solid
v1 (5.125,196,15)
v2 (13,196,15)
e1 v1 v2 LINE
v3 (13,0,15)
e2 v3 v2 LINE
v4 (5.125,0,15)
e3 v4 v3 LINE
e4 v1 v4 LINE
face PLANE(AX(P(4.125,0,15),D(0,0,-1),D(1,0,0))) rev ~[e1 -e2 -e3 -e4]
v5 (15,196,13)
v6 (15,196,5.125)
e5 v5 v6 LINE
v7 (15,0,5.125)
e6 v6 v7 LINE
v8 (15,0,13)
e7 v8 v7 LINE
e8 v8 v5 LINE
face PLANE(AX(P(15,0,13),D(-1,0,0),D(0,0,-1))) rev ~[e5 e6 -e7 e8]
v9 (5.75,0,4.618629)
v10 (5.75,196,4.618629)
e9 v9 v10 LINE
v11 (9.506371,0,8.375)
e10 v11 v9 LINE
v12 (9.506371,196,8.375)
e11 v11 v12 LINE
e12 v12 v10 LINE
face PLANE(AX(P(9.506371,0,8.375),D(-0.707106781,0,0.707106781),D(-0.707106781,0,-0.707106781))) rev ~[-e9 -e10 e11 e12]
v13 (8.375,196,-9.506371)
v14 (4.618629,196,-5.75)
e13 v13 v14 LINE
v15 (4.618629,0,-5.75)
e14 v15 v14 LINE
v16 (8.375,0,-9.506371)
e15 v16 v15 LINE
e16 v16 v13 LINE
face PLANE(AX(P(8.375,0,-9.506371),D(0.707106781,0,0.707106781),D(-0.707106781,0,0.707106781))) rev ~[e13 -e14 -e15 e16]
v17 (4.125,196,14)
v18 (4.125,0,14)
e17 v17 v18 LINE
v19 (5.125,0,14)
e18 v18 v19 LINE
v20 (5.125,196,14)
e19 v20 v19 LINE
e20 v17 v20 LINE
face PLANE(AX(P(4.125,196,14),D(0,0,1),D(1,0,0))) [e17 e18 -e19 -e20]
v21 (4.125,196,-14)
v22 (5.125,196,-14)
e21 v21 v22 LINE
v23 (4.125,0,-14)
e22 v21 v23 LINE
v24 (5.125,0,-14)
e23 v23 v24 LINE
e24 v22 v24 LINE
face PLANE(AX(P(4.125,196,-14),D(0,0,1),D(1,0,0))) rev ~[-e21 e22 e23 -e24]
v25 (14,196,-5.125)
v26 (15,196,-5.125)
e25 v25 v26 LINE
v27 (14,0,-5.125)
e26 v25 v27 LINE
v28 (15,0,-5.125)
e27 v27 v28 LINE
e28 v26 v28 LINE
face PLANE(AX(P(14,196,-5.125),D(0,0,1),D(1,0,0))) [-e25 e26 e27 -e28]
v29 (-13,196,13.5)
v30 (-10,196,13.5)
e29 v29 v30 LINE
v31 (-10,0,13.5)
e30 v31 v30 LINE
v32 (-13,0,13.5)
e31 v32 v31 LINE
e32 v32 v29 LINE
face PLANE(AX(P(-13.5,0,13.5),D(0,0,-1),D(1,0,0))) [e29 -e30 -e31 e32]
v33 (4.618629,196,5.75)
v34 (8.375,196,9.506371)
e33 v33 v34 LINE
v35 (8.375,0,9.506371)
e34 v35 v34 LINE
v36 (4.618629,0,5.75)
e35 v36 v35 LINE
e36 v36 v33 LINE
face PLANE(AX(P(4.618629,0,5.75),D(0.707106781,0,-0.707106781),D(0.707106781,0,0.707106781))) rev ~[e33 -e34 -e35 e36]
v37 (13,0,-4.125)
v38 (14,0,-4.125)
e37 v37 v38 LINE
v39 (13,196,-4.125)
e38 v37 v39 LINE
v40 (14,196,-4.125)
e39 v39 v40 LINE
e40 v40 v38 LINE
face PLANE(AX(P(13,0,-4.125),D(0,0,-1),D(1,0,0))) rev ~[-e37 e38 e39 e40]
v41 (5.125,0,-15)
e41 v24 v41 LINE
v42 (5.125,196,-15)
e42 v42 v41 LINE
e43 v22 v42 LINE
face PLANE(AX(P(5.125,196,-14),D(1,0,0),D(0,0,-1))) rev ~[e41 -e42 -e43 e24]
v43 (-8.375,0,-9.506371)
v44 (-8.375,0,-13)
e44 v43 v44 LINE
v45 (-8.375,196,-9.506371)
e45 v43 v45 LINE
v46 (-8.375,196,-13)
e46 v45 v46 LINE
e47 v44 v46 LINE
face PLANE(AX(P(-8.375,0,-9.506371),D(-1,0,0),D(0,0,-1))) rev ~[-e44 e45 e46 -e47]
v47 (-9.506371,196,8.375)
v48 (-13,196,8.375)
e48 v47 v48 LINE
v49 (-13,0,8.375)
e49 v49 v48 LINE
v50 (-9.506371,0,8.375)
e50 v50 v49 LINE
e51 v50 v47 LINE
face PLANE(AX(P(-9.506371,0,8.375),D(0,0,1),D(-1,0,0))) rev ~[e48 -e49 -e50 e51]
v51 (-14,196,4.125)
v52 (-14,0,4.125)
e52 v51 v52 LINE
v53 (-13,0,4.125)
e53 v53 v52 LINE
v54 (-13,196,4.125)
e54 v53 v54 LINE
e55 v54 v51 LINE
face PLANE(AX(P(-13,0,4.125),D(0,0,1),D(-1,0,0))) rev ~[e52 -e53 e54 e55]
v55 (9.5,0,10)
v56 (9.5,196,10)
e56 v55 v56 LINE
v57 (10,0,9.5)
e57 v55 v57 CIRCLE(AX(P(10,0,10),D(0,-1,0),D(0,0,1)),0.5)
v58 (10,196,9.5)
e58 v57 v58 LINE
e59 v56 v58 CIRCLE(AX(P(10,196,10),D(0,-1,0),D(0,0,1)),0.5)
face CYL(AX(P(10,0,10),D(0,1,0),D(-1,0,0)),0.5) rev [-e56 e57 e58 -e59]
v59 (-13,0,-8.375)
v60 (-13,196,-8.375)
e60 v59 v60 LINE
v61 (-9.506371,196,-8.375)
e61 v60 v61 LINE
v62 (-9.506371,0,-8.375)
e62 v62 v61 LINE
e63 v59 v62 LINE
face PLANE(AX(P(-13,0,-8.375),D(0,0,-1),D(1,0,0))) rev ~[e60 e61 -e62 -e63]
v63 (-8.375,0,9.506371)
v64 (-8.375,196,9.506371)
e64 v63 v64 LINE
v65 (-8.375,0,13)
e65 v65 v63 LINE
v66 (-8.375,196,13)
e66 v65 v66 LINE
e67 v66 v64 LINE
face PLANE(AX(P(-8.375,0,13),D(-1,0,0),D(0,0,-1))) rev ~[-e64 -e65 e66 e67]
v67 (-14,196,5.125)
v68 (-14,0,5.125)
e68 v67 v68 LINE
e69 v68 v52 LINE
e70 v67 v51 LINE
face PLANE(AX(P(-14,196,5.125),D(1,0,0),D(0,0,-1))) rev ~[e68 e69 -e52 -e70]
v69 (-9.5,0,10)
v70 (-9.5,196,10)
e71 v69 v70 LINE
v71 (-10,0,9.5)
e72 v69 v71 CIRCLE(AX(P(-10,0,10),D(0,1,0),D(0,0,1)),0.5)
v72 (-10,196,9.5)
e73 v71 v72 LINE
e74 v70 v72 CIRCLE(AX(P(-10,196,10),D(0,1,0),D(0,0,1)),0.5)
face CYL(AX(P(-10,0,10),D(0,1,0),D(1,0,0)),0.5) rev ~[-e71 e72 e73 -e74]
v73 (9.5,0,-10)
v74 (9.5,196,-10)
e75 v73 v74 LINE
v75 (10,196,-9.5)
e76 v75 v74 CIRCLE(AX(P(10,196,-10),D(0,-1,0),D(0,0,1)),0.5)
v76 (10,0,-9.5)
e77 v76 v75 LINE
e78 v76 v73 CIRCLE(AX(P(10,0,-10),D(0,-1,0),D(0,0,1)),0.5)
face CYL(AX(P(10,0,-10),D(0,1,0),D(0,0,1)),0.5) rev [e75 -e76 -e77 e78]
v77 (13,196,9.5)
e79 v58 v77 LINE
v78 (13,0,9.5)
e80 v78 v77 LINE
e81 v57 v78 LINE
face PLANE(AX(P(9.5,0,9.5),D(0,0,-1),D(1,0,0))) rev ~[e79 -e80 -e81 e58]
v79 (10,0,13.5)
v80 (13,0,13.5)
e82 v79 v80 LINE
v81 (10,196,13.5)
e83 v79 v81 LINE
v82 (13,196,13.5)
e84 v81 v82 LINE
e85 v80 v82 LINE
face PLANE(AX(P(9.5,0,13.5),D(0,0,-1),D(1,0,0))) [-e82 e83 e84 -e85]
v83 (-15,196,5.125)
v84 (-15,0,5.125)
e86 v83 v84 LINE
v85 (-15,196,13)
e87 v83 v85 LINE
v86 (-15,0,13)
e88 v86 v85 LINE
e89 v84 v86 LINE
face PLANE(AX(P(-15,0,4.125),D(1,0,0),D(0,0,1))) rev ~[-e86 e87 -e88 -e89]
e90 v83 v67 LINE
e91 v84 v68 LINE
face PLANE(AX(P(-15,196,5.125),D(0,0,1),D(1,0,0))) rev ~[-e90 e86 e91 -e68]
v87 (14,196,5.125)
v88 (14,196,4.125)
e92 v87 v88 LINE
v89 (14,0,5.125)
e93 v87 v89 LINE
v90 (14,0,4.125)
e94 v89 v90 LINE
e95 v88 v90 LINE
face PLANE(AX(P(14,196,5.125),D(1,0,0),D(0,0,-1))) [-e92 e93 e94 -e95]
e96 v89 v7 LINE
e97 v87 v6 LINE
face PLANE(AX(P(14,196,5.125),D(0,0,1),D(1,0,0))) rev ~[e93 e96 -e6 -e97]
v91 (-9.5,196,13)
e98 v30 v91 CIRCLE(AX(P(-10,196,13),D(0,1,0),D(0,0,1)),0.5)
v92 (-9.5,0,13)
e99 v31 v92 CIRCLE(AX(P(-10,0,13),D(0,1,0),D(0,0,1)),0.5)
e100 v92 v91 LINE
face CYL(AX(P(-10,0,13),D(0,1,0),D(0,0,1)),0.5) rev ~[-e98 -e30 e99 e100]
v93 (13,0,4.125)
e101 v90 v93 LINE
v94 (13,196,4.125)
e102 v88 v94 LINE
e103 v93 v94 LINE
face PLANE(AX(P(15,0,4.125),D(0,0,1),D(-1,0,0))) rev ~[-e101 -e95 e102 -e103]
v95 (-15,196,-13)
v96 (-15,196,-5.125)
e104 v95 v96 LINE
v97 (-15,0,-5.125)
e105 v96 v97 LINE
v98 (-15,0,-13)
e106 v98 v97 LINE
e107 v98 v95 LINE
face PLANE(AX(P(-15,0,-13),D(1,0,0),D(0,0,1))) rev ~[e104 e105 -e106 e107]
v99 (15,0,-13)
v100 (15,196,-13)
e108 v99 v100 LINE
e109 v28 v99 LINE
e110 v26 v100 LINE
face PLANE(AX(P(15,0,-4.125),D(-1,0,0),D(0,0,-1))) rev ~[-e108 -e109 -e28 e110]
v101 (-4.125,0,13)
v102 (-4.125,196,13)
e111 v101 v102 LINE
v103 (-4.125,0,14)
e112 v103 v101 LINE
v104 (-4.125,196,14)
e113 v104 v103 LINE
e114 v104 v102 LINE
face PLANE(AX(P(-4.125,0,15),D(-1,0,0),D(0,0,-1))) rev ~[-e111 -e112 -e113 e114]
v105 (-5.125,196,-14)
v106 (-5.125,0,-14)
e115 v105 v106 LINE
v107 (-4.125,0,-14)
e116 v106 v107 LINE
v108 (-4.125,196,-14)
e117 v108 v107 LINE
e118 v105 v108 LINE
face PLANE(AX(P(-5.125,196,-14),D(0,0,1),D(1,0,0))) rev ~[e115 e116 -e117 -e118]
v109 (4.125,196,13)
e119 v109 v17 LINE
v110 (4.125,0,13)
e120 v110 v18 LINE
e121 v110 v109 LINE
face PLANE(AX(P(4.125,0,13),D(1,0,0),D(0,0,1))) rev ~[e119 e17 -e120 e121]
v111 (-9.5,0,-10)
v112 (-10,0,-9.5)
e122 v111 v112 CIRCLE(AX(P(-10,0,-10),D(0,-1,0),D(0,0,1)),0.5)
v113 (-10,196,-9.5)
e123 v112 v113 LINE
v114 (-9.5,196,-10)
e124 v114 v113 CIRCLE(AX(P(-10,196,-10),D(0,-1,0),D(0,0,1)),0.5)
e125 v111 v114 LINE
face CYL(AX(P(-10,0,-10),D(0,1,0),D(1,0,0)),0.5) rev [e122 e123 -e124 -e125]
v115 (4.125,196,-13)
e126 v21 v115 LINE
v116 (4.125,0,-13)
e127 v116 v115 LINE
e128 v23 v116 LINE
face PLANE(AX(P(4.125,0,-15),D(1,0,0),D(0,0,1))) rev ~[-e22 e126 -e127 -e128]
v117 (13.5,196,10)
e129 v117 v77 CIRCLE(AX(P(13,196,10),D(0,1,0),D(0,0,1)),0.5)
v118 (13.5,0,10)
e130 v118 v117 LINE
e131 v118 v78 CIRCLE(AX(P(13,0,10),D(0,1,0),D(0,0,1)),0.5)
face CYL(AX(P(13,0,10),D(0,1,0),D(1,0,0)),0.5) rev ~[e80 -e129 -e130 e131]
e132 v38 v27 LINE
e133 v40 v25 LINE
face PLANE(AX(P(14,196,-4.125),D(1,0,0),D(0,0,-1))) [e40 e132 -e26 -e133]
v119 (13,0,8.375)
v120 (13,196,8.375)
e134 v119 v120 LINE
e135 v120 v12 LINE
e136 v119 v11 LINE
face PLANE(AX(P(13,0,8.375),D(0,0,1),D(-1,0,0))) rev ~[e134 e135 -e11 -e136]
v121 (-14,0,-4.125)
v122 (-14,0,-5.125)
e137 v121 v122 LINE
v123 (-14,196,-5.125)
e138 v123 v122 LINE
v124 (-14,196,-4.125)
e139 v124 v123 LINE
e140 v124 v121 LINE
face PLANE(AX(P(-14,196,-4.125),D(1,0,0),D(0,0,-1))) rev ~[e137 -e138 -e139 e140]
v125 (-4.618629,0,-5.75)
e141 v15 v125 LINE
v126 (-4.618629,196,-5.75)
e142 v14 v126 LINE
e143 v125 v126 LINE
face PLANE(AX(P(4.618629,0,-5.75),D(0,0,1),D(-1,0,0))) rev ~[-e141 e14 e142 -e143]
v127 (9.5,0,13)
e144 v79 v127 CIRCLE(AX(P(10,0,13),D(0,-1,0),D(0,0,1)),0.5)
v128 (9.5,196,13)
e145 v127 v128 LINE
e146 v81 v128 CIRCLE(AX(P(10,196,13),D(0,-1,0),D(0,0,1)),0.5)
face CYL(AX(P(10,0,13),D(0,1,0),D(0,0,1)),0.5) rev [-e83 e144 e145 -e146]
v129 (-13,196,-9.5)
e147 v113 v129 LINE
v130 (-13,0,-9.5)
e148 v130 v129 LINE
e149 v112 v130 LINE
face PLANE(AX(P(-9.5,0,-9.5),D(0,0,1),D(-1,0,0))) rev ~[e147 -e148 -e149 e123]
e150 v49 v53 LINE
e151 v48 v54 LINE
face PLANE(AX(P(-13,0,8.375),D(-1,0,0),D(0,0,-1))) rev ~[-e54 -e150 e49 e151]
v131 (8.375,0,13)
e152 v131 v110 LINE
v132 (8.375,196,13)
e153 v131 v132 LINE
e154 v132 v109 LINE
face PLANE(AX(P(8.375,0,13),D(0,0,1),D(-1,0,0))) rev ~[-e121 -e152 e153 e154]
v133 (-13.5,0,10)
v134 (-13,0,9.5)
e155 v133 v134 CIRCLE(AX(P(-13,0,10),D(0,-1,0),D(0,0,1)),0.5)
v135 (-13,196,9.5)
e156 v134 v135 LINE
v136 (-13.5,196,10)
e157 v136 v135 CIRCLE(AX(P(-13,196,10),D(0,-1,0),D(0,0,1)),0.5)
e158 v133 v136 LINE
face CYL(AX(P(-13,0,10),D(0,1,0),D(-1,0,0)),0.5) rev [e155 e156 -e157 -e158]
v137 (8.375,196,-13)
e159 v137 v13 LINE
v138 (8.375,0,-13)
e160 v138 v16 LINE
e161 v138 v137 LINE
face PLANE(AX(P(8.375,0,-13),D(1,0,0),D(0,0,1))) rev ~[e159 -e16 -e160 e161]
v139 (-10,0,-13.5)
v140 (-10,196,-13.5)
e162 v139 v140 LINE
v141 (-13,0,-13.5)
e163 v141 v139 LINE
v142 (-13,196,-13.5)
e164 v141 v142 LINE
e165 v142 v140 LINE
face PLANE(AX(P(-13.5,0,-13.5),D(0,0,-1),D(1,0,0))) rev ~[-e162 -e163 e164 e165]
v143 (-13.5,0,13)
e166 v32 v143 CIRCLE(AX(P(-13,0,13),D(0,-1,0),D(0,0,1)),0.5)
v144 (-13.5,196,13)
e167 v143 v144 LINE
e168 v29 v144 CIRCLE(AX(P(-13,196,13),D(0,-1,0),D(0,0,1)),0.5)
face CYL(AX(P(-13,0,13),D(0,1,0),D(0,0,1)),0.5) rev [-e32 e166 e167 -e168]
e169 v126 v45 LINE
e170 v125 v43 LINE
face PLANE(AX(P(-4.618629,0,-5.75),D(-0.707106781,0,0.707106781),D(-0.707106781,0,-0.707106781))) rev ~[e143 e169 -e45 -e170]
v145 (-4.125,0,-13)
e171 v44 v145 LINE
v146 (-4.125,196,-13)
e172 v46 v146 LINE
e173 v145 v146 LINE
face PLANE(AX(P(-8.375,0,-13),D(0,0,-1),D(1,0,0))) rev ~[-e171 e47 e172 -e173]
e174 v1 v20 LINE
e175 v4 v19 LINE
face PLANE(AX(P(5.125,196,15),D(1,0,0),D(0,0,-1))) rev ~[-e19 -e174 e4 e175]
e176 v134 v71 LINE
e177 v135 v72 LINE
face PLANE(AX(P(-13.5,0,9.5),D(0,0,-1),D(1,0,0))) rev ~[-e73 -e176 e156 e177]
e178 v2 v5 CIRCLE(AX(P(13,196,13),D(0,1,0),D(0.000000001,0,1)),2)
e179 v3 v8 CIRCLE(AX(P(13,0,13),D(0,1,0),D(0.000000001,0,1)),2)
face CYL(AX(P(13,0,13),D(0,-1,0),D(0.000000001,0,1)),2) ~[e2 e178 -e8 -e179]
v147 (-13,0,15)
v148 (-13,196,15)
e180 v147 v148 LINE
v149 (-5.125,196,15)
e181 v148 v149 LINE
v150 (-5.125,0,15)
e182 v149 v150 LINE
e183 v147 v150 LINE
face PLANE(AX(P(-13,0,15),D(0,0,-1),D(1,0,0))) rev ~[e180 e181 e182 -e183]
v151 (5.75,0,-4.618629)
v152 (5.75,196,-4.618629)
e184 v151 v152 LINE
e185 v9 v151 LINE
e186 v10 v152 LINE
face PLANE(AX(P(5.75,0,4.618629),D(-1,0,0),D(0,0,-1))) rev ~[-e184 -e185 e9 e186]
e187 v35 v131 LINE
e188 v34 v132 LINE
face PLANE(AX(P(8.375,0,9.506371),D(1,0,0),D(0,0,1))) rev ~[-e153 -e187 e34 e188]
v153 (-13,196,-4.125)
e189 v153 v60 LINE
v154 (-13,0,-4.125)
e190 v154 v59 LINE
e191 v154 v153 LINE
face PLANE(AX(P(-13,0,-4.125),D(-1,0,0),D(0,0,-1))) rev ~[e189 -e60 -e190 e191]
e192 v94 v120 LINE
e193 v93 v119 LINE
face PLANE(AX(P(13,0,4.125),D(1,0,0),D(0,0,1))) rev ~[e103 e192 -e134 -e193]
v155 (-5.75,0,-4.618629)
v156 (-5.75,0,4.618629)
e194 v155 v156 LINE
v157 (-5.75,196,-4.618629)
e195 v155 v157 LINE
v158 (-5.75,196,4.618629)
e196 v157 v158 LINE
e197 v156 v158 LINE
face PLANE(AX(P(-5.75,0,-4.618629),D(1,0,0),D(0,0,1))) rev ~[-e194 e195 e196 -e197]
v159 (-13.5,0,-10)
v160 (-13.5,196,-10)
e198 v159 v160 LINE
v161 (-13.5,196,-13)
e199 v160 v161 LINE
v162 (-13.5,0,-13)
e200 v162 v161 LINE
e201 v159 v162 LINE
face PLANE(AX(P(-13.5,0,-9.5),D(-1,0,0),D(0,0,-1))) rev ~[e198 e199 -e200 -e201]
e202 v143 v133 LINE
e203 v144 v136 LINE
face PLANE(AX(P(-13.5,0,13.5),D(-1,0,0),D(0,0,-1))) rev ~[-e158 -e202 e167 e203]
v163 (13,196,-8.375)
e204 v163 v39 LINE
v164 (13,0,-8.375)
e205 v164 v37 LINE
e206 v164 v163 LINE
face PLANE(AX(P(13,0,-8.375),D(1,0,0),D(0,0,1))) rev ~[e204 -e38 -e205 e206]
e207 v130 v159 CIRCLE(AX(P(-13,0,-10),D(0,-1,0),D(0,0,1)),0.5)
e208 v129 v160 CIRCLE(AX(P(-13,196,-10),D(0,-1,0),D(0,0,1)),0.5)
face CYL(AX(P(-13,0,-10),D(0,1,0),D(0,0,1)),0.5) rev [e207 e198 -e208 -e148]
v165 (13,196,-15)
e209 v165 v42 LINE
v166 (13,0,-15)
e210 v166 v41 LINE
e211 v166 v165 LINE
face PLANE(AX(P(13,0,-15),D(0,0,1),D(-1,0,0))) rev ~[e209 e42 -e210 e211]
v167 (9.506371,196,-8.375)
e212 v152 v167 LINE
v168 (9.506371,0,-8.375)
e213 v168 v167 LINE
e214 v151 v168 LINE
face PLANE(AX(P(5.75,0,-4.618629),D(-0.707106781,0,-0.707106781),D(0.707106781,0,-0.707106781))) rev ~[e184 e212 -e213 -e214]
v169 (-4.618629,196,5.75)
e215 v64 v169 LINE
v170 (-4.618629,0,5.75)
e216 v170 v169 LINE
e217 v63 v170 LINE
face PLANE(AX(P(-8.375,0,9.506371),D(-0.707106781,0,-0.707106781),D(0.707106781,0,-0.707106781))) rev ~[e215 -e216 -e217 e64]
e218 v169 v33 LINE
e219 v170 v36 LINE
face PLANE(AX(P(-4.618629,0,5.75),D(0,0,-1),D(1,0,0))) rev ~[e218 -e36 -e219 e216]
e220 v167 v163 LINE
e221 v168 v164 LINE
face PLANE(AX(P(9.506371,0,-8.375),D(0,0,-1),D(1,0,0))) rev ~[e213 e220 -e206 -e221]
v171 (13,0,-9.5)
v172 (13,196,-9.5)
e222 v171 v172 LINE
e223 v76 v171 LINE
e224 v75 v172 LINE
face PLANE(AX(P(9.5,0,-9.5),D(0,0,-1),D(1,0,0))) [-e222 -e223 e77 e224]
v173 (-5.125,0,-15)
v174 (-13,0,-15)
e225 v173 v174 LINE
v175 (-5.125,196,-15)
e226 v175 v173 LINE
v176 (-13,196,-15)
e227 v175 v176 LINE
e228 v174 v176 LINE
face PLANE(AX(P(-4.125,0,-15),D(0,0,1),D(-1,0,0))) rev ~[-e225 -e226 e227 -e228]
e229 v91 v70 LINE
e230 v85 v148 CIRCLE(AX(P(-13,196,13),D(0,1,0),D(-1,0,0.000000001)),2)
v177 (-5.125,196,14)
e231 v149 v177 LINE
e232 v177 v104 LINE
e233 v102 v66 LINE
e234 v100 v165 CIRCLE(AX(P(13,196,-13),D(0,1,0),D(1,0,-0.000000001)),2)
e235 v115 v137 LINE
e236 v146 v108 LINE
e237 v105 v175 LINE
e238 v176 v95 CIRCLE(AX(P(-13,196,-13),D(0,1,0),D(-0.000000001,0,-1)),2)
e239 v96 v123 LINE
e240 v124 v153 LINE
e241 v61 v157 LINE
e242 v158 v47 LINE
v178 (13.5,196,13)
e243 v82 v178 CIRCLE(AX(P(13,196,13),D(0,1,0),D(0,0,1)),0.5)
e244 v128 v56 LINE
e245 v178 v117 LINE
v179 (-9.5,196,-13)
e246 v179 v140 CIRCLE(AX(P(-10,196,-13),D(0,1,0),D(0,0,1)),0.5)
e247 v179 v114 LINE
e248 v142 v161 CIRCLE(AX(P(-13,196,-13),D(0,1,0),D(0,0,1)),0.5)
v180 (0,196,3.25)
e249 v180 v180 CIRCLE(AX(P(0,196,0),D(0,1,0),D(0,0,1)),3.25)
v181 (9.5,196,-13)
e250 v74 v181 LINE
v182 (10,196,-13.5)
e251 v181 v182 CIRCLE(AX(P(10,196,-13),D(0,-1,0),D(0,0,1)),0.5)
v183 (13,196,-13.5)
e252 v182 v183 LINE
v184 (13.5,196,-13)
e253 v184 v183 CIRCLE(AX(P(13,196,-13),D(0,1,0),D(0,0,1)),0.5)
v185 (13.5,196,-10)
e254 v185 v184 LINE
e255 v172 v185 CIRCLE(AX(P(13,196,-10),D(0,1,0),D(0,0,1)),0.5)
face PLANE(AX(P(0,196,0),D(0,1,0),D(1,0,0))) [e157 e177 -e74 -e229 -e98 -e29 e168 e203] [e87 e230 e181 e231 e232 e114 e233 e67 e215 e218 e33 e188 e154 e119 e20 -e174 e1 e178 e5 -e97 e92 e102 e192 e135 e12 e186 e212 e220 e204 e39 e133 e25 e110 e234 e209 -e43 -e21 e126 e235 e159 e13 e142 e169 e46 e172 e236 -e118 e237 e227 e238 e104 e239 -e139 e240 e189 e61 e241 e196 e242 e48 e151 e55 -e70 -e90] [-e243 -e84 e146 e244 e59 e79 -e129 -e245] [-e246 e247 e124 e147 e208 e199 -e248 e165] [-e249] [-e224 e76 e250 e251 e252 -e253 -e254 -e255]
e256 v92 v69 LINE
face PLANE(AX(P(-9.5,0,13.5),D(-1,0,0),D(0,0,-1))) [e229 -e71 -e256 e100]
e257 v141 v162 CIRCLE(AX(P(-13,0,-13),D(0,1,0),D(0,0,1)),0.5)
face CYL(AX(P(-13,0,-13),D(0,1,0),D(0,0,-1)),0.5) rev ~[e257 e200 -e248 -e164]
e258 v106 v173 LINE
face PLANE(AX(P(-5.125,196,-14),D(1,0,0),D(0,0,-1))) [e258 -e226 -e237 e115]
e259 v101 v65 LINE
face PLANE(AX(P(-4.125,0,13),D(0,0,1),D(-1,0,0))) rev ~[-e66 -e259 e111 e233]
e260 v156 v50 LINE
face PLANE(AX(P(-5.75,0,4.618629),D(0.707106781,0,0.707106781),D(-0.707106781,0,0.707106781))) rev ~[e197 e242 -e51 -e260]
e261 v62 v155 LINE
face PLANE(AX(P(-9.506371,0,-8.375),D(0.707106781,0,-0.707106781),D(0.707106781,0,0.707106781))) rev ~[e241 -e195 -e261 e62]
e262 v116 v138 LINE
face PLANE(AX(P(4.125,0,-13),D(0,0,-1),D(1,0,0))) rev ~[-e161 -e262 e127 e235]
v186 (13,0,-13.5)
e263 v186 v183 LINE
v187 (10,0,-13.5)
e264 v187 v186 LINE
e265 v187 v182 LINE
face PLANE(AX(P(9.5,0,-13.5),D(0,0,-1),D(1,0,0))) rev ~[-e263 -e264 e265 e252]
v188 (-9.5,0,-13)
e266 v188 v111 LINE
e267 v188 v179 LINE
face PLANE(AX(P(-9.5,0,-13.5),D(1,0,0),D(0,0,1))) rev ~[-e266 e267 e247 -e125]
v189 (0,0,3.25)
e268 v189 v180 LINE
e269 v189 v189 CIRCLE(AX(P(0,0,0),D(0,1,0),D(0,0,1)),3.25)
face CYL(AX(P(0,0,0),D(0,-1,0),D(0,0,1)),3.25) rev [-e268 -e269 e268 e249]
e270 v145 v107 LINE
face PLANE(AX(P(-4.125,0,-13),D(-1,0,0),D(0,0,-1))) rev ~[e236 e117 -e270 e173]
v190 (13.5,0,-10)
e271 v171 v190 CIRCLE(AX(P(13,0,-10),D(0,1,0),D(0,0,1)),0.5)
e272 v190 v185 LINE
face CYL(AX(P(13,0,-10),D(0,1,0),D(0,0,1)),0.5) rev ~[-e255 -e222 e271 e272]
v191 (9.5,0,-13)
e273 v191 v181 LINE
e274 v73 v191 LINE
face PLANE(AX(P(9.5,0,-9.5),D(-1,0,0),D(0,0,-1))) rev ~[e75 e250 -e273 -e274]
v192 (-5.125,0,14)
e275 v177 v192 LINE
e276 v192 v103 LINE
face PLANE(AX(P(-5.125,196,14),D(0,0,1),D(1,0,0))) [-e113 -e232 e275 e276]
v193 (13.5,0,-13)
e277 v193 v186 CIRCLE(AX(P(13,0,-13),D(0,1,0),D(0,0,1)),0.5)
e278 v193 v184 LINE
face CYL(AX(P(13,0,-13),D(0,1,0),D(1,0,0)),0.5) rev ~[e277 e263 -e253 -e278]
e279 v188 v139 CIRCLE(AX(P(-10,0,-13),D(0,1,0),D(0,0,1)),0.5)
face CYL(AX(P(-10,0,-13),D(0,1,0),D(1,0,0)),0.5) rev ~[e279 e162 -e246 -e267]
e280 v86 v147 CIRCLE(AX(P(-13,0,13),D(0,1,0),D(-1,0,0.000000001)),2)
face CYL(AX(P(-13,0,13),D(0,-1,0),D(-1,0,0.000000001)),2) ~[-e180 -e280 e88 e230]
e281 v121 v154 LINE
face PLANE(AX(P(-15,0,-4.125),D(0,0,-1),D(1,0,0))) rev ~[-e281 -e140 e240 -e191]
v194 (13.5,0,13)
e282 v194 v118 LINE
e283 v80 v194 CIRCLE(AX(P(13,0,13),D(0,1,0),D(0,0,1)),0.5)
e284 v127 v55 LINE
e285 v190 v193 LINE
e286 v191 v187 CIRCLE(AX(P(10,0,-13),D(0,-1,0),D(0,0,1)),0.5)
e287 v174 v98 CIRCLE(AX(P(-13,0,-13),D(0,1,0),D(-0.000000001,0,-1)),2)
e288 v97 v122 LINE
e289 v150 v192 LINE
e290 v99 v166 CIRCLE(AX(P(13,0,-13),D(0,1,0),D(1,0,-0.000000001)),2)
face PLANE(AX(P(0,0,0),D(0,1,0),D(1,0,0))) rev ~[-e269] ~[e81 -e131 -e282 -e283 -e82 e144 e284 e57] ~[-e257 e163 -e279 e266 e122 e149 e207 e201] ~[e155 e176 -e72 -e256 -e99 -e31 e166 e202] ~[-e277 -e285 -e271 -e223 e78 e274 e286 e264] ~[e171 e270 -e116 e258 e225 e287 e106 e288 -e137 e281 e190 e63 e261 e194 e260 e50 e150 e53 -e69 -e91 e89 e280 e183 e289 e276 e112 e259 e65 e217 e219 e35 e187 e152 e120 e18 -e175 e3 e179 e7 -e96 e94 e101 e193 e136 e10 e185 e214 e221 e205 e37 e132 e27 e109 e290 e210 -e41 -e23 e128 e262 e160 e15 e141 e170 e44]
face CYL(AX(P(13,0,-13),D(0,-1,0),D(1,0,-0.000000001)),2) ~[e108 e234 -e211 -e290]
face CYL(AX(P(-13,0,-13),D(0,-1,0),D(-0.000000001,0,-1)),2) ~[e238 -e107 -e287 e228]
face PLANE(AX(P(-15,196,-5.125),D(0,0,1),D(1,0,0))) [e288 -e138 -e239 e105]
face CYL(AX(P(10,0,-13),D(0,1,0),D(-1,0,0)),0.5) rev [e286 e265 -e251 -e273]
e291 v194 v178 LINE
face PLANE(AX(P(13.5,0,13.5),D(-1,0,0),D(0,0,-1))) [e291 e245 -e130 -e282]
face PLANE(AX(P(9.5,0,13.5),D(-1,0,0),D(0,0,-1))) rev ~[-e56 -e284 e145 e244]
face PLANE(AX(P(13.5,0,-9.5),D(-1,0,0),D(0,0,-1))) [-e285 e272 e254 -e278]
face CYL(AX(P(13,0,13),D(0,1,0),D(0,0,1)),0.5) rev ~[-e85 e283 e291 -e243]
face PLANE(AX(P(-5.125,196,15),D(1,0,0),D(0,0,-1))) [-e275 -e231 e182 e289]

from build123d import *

# Parameters (mm, degrees)
SKETCH1_W           = 4
SKETCH1_H           = 4
SKETCH1_R           = 3.25
BOSS_EXTRUDE1_DEPTH = 196
SKETCH2_W           = 1
SKETCH2_H           = 1
CUT_EXTRUDE1_DEPTH  = 198.144616969
FILLET1_R           = 0.5


with BuildPart() as part:
    # Sketch1 → Boss-Extrude1 (new body)
    with BuildSketch(Plane(origin=(0, 0, 0), x_dir=(1, 0, 0), z_dir=(0, 1, 0))):
        with BuildLine():
            Line((-8.375, 9.50637085), (-8.375, 13))
            Line((-8.375, 13), (-4.125, 13))
            Line((-4.125, 13), (-4.125, 15))
            Line((-4.125, 15), (-13, 15))
            ThreePointArc((-13, 15), (-14.414213562, 14.414213562), (-15, 13))
            Line((-15, 13), (-15, 4.125))
            Line((-15, 4.125), (-13, 4.125))
            Line((-13, 4.125), (-13, 8.375))
            Line((-13, 8.375), (-9.50637085, 8.375))
            Line((-9.50637085, 8.375), (-5.75, 4.61862915))
            Line((-5.75, 4.61862915), (-5.75, -4.61862915))
            Line((-5.75, -4.61862915), (-9.50637085, -8.375))
            Line((-9.50637085, -8.375), (-13, -8.375))
            Line((-13, -8.375), (-13, -4.125))
            Line((-13, -4.125), (-15, -4.125))
            Line((-15, -4.125), (-15, -13))
            ThreePointArc((-15, -13), (-14.414213562, -14.414213562), (-13, -15))
            Line((-13, -15), (-4.125, -15))
            Line((-4.125, -15), (-4.125, -13))
            Line((-4.125, -13), (-8.375, -13))
            Line((-8.375, -13), (-8.375, -9.50637085))
            Line((-8.375, -9.50637085), (-4.61862915, -5.75))
            Line((-4.61862915, -5.75), (4.61862915, -5.75))
            Line((4.61862915, -5.75), (8.375, -9.50637085))
            Line((8.375, -9.50637085), (8.375, -13))
            Line((8.375, -13), (4.125, -13))
            Line((4.125, -13), (4.125, -15))
            Line((4.125, -15), (13, -15))
            ThreePointArc((13, -15), (14.414213562, -14.414213562), (15, -13))
            Line((15, -13), (15, -4.125))
            Line((15, -4.125), (13, -4.125))
            Line((13, -4.125), (13, -8.375))
            Line((13, -8.375), (9.50637085, -8.375))
            Line((9.50637085, -8.375), (5.75, -4.61862915))
            Line((5.75, -4.61862915), (5.75, 4.61862915))
            Line((5.75, 4.61862915), (9.50637085, 8.375))
            Line((9.50637085, 8.375), (13, 8.375))
            Line((13, 8.375), (13, 4.125))
            Line((13, 4.125), (15, 4.125))
            Line((15, 4.125), (15, 13))
            ThreePointArc((15, 13), (14.414213562, 14.414213562), (13, 15))
            Line((13, 15), (4.125, 15))
            Line((4.125, 15), (4.125, 13))
            Line((4.125, 13), (8.375, 13))
            Line((8.375, 13), (8.375, 9.50637085))
            Line((8.375, 9.50637085), (4.61862915, 5.75))
            Line((4.61862915, 5.75), (-4.61862915, 5.75))
            Line((-4.61862915, 5.75), (-8.375, 9.50637085))
        make_face()
        with Locations((-11.5, -11.5)):
            Rectangle(SKETCH1_W, SKETCH1_H, mode=Mode.SUBTRACT)
        with Locations((11.5, -11.5)):
            Rectangle(SKETCH1_W, SKETCH1_H, mode=Mode.SUBTRACT)
        Polygon((-9.5, 9.5), (-10.63137085, 9.5), (-13.5, 9.5), (-13.5, 13.5), (-9.5, 13.5), align=None, mode=Mode.SUBTRACT)
        with Locations(Location((0, 0, 0), (0, 0, 270))):
            Circle(SKETCH1_R, mode=Mode.SUBTRACT)
        with Locations((11.5, 11.5)):
            Rectangle(SKETCH1_W, SKETCH1_H, mode=Mode.SUBTRACT)
    extrude(amount=BOSS_EXTRUDE1_DEPTH)

    # Sketch2 → Cut-Extrude1 (cut, through all)
    with BuildSketch(Plane(origin=(0, 196, 0), x_dir=(1, 0, 0), z_dir=(0, 1, 0))):
        with Locations((14.5, 4.625)):
            Rectangle(SKETCH2_W, SKETCH2_H)
        with Locations((-4.625, 14.5)):
            Rectangle(SKETCH2_W, SKETCH2_H)
        with Locations((4.625, 14.5)):
            Rectangle(SKETCH2_W, SKETCH2_H)
        with Locations((14.5, -4.625)):
            Rectangle(SKETCH2_W, SKETCH2_H)
        with Locations((4.625, -14.5)):
            Rectangle(SKETCH2_W, SKETCH2_H)
        with Locations((-4.625, -14.5)):
            Rectangle(SKETCH2_W, SKETCH2_H)
        with Locations((-14.5, -4.625)):
            Rectangle(SKETCH2_W, SKETCH2_H)
        with Locations((-14.5, 4.625)):
            Rectangle(SKETCH2_W, SKETCH2_H)
    extrude(amount=-CUT_EXTRUDE1_DEPTH, mode=Mode.SUBTRACT)

    # Fillet1
    fillet1_edges = [part.edges().sort_by_distance(p)[0] for p in [
        (-9.5, 98, -13.5),
        (-13.5, 98, -13.5),
        (-13.5, 98, -9.5),
        (-9.5, 98, -9.5),
        (-9.5, 98, 9.5),
        (-13.5, 98, 9.5),
        (-13.5, 98, 13.5),
        (-9.5, 98, 13.5),
        (9.5, 98, -9.5),
        (13.5, 98, -9.5),
        (13.5, 98, -13.5),
        (9.5, 98, -13.5),
        (13.5, 98, 13.5),
        (13.5, 98, 9.5),
        (9.5, 98, 9.5),
        (9.5, 98, 13.5),
    ]]
    fillet(fillet1_edges, radius=FILLET1_R)


solid = part.part
